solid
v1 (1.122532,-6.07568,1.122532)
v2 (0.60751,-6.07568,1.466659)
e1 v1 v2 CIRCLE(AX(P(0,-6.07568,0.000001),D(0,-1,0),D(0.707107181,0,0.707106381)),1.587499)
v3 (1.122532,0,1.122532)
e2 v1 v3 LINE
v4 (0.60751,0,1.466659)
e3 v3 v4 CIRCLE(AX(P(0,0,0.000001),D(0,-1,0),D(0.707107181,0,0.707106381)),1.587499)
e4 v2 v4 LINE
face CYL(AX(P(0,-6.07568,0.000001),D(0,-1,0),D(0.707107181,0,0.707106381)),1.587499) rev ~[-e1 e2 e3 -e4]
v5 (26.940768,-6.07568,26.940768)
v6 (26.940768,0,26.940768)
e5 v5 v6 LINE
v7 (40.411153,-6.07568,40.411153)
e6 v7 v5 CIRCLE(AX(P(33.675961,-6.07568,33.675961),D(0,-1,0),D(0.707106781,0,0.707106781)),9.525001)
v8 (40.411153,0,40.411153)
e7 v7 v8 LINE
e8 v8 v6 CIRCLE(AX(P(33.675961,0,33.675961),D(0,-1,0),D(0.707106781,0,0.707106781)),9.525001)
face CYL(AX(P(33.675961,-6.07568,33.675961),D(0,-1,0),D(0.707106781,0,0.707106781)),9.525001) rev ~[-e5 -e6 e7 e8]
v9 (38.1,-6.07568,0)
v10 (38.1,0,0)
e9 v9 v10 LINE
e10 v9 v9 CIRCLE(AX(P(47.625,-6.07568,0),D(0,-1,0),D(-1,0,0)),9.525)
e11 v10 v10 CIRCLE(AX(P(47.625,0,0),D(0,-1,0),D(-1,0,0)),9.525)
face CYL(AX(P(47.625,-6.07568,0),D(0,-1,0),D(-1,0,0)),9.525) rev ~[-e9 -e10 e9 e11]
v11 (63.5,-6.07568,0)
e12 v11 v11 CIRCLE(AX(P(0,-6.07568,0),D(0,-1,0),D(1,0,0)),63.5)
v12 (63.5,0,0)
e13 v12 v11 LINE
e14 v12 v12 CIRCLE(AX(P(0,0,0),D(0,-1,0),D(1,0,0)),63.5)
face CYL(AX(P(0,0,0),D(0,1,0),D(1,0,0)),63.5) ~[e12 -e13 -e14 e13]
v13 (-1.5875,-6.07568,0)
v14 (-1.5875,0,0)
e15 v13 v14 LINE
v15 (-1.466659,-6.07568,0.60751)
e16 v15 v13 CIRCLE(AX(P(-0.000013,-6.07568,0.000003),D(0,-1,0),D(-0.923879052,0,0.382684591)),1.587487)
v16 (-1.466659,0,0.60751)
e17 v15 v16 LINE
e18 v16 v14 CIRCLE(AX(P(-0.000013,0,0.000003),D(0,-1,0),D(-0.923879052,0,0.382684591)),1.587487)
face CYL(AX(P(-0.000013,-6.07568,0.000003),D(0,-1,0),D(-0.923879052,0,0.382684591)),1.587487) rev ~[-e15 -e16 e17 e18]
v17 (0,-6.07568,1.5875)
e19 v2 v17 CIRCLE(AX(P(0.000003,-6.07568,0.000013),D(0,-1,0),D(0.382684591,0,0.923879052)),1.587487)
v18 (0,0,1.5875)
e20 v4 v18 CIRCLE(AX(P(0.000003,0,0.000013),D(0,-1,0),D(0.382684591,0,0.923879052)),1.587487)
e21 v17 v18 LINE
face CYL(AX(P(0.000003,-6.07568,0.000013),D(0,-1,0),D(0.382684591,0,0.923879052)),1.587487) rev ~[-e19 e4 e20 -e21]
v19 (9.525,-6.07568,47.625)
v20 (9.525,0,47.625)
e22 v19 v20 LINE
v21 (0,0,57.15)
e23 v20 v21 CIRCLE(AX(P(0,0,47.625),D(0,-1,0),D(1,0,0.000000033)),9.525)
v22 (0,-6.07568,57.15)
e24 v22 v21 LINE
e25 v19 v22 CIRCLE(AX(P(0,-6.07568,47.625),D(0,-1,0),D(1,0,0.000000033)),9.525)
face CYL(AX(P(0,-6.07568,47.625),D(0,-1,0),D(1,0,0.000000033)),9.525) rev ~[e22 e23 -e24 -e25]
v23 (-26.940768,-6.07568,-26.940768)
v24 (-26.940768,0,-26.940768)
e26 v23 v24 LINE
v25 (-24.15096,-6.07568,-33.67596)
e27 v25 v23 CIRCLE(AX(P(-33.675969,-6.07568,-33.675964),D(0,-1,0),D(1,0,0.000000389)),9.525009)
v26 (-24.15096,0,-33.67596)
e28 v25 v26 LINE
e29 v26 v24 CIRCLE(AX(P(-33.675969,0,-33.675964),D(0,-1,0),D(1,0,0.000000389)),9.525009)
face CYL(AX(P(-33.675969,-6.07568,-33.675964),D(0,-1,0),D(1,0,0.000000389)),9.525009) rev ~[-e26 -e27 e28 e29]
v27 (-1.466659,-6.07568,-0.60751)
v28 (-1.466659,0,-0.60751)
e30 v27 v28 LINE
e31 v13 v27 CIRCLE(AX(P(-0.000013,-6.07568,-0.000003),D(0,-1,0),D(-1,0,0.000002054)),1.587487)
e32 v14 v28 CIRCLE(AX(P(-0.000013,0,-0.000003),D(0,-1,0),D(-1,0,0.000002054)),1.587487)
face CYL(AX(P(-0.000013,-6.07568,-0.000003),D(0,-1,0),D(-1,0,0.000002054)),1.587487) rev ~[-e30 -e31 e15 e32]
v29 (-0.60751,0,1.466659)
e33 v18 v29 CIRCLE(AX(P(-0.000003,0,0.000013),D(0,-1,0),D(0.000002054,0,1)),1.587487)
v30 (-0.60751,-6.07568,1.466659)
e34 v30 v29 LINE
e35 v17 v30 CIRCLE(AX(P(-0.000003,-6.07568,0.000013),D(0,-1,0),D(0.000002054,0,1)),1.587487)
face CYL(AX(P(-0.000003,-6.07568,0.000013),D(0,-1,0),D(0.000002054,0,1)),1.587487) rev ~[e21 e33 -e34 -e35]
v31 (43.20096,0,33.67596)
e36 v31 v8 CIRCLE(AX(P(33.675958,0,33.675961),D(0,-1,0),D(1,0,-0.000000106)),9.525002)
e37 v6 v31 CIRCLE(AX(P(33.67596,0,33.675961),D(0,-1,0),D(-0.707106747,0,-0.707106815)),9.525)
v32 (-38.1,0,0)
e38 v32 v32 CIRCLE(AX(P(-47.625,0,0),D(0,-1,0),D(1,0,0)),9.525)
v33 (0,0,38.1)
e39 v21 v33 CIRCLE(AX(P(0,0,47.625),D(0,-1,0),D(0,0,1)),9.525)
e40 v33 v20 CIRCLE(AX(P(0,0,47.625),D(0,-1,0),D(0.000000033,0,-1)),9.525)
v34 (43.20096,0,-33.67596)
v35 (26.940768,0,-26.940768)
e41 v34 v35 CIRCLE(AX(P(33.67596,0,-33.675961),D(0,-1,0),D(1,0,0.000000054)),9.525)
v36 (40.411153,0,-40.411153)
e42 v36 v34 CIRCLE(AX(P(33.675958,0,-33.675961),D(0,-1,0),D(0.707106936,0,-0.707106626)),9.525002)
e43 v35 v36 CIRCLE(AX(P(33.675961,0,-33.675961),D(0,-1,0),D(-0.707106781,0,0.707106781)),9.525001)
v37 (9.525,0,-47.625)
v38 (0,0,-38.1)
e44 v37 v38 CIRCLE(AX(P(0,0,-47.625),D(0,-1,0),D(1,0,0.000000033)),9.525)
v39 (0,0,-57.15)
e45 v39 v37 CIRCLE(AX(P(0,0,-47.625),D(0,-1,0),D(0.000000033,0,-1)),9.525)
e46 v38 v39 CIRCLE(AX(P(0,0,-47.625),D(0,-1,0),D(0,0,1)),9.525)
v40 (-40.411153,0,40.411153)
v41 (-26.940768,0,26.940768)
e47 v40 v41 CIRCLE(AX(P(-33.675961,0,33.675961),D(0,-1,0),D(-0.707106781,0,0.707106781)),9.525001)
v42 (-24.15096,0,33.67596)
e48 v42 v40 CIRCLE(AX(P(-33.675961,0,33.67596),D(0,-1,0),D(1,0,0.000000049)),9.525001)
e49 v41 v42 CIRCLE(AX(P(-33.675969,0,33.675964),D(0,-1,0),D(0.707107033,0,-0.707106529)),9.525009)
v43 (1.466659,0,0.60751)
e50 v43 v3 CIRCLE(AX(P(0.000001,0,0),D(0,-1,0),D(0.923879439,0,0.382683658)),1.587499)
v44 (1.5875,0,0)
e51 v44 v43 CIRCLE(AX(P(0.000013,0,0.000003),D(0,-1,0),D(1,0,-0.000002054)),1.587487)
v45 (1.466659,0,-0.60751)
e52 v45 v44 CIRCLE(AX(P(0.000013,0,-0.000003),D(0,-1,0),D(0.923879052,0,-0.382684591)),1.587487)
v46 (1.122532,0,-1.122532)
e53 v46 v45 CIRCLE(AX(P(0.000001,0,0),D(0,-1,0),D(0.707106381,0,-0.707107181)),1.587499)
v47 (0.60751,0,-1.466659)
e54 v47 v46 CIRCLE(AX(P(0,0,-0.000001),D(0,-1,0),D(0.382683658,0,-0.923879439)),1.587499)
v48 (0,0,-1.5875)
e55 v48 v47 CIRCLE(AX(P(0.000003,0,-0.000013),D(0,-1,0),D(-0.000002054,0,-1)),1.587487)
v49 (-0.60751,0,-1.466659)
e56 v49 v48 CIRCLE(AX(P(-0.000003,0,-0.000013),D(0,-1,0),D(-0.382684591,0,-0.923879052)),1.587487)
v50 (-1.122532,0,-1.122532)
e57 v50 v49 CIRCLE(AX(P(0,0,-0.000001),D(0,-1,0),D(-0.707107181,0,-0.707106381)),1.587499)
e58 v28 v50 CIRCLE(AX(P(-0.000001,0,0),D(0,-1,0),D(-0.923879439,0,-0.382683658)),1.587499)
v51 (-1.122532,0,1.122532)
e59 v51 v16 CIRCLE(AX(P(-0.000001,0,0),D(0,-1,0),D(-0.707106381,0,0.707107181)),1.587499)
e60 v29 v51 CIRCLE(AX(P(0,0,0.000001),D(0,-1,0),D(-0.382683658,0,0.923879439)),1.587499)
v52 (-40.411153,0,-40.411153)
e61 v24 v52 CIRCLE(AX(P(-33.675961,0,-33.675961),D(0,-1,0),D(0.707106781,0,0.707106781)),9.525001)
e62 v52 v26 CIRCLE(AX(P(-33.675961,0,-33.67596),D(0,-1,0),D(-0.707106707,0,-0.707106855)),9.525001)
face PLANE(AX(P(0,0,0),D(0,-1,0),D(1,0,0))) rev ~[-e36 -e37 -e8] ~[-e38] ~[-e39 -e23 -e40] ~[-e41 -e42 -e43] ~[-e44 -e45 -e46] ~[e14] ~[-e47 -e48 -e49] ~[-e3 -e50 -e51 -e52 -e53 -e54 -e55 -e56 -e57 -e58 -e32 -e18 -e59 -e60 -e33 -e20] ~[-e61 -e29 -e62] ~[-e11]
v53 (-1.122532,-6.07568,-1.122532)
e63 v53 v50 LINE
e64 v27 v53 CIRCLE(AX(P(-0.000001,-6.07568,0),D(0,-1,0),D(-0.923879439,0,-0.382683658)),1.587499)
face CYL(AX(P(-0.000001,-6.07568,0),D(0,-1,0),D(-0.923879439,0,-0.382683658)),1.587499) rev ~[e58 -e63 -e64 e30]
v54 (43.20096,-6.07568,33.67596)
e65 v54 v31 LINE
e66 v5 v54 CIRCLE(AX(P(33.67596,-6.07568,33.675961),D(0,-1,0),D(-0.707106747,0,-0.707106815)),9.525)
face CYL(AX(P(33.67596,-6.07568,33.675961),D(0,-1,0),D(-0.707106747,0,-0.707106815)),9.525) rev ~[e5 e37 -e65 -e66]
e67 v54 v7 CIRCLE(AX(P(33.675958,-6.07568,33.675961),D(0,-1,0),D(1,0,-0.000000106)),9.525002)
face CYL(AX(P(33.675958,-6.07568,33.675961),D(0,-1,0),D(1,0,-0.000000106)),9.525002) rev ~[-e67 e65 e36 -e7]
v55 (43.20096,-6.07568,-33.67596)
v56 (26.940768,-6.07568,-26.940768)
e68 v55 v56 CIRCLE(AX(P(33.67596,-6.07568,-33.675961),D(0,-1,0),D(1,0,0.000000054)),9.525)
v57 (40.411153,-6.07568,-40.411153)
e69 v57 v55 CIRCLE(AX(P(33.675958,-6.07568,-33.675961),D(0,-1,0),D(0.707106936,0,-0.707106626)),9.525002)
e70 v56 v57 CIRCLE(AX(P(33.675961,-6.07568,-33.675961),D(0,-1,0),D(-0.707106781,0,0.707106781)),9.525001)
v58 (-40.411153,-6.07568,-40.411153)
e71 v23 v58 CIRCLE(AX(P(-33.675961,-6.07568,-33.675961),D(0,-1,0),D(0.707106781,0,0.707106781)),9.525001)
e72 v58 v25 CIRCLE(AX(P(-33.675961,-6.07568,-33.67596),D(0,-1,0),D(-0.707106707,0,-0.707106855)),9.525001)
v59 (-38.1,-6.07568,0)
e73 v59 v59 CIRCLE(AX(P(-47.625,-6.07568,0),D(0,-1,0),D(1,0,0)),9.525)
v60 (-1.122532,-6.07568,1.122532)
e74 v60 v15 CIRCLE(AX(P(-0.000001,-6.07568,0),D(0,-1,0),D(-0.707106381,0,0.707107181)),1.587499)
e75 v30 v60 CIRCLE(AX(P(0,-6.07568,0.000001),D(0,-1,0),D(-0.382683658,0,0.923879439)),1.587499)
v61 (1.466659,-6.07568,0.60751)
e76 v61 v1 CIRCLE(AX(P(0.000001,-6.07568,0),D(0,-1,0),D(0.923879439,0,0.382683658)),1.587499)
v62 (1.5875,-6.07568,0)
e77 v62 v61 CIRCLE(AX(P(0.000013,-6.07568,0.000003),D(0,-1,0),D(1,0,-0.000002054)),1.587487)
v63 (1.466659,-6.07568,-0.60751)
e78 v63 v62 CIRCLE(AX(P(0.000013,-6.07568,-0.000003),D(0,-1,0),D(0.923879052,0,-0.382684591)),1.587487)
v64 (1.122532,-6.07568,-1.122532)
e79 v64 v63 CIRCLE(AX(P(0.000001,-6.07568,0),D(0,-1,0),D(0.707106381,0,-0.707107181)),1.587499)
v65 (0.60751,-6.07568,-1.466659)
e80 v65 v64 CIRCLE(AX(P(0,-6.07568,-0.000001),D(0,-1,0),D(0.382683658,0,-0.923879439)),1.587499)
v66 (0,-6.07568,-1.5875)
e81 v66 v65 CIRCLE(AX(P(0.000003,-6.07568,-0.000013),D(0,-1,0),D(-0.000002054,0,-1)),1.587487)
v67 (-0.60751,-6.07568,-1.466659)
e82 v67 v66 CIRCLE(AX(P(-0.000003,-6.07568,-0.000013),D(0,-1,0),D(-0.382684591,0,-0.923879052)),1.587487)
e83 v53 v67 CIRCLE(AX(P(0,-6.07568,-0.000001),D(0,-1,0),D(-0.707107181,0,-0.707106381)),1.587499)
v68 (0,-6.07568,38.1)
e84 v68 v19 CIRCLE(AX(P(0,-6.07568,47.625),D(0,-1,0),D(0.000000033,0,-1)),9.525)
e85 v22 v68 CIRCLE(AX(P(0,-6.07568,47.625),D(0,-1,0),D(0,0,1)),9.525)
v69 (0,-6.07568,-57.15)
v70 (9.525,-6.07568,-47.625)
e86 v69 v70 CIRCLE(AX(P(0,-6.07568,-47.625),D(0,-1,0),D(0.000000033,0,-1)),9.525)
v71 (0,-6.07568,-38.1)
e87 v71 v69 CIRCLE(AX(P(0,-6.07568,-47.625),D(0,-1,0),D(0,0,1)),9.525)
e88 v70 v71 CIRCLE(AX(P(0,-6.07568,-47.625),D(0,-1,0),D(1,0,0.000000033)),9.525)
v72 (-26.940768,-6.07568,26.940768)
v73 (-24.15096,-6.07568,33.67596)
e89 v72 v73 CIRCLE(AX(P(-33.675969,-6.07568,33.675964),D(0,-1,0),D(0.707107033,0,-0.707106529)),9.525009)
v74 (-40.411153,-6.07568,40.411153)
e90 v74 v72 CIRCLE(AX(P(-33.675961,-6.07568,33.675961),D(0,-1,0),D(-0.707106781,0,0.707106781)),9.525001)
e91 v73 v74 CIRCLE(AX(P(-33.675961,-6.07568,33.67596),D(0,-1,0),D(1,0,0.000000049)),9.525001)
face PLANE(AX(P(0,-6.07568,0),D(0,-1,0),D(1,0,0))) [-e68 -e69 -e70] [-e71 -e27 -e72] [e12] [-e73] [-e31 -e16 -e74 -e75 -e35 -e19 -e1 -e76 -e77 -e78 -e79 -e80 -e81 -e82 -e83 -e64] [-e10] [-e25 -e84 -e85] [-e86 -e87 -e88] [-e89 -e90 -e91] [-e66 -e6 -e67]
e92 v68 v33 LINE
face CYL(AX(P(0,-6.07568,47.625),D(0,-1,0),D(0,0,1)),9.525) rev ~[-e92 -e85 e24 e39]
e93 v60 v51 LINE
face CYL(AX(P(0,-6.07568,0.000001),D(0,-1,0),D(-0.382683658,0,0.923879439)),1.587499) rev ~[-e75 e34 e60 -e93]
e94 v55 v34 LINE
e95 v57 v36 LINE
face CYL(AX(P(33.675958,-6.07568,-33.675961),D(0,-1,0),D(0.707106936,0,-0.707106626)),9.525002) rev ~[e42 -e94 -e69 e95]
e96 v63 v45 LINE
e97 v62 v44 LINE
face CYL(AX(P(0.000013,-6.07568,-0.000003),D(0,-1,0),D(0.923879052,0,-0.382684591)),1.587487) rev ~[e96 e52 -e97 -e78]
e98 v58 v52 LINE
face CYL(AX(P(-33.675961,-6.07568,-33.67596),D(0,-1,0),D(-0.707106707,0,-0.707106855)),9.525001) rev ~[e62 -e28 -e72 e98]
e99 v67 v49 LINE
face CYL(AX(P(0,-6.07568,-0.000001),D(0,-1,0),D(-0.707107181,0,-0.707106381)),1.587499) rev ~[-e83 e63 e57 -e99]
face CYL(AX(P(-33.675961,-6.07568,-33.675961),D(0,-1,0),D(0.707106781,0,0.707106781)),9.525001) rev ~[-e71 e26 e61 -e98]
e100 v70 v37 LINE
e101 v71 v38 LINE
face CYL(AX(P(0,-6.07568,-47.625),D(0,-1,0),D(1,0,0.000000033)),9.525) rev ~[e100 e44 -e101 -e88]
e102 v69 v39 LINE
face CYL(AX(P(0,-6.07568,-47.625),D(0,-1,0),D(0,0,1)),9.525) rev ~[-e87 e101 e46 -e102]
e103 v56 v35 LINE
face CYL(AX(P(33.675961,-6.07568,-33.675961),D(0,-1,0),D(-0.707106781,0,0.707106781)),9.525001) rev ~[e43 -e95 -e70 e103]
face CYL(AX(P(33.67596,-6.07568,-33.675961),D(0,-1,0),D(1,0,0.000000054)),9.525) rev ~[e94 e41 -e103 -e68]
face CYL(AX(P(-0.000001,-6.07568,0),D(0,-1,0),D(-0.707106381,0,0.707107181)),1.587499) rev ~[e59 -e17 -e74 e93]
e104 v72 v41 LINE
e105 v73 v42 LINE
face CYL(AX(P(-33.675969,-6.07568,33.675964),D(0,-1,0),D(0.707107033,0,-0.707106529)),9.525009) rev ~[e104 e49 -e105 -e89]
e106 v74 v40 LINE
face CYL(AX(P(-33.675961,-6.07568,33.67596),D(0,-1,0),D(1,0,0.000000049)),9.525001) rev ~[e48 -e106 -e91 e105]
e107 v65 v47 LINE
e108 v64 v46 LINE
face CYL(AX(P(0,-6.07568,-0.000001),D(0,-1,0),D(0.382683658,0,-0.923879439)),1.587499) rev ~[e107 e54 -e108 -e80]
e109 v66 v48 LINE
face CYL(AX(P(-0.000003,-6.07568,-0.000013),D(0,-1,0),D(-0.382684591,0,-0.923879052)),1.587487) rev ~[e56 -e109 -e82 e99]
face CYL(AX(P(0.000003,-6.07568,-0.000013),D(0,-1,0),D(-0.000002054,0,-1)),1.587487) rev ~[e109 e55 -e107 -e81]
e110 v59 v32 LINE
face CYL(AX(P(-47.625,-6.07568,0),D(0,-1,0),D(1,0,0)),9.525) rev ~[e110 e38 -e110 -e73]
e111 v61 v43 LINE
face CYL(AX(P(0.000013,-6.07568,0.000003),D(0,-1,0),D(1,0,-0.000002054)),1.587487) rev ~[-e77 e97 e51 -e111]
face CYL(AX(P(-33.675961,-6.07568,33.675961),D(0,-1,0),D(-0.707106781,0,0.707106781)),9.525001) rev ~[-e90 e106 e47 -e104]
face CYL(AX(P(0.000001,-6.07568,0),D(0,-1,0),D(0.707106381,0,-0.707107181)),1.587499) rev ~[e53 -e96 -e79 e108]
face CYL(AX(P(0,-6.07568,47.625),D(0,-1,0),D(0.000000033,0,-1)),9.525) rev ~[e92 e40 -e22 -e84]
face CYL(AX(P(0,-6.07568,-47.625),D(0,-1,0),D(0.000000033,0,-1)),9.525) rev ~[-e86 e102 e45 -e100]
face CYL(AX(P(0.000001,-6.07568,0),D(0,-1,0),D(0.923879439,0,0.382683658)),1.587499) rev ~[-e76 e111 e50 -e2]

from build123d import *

# Parameters (mm, degrees)
F0_R     = 63.5
F1_DEPTH = 6.07568
F3_DEPTH = 25.4
F4_DEPTH = 25.4


with BuildPart() as f1:
    # F0 (on Front) → F1 (new body)
    with BuildSketch(Plane.XZ):
        Circle(F0_R)
    extrude(amount=F1_DEPTH)

    # F2 (on face) → F3 (cut)
    with BuildSketch(Plane.XZ.offset(6.07568)):
        with BuildLine():
            Line((0, 0), (1.5875, 0))
            ThreePointArc((1.5875, 0), (1.556997, 0.309706), (1.466659, 0.60751))
            Line((1.466659, 0.60751), (0, 0))
        make_face()
        with BuildLine():
            ThreePointArc((43.20096, -33.67596), (37.32102, -24.876008), (26.940768, -26.940768))
            Line((26.940768, -26.940768), (40.411153, -40.411153))
            ThreePointArc((40.411153, -40.411153), (42.475913, -37.32102), (43.20096, -33.67596))
        make_face()
        with BuildLine():
            Line((40.411153, -40.411153), (26.940768, -26.940768))
            ThreePointArc((26.940768, -26.940768), (26.940768, -40.411153), (40.411153, -40.411153))
        make_face()
        with BuildLine():
            ThreePointArc((9.525, -47.625), (6.735192, -40.889808), (0, -38.1))
            Line((0, -38.1), (0, -57.15))
            ThreePointArc((0, -57.15), (6.735192, -54.360192), (9.525, -47.625))
        make_face()
        with BuildLine():
            Line((0, -57.15), (0, -38.1))
            ThreePointArc((0, -38.1), (-9.525, -47.625), (0, -57.15))
        make_face()
        with BuildLine():
            ThreePointArc((-24.15096, -33.67596), (-24.876008, -30.030901), (-26.940768, -26.940768))
            Line((-26.940768, -26.940768), (-40.411153, -40.411153))
            ThreePointArc((-40.411153, -40.411153), (-30.030901, -42.475913), (-24.15096, -33.67596))
        make_face()
        with BuildLine():
            Line((-40.411153, -40.411153), (-26.940768, -26.940768))
            ThreePointArc((-26.940768, -26.940768), (-40.411153, -26.940768), (-40.411153, -40.411153))
        make_face()
        with BuildLine():
            ThreePointArc((-57.15, 0), (-47.625, -9.525), (-38.1, 0))
            Line((-38.1, 0), (-57.15, 0))
        make_face()
        with BuildLine():
            Line((-57.15, 0), (-38.1, 0))
            ThreePointArc((-38.1, 0), (-47.625, 9.525), (-57.15, 0))
        make_face()
        with BuildLine():
            ThreePointArc((-40.411153, 40.411153), (-40.411153, 26.940768), (-26.940768, 26.940768))
            Line((-26.940768, 26.940768), (-40.411153, 40.411153))
        make_face()
        with BuildLine():
            Line((-40.411153, 40.411153), (-26.940768, 26.940768))
            ThreePointArc((-26.940768, 26.940768), (-24.876008, 30.030901), (-24.15096, 33.67596))
            ThreePointArc((-24.15096, 33.67596), (-30.030901, 42.475913), (-40.411153, 40.411153))
        make_face()
        with BuildLine():
            ThreePointArc((0, 57.15), (-9.525, 47.625), (0, 38.1))
            Line((0, 38.1), (0, 57.15))
        make_face()
        with BuildLine():
            Line((0, 57.15), (0, 38.1))
            ThreePointArc((0, 38.1), (6.735192, 40.889808), (9.525, 47.625))
            ThreePointArc((9.525, 47.625), (6.735192, 54.360192), (0, 57.15))
        make_face()
        with BuildLine():
            ThreePointArc((40.411153, 40.411153), (26.940768, 40.411153), (26.940768, 26.940768))
            Line((26.940768, 26.940768), (40.411153, 40.411153))
        make_face()
        with BuildLine():
            Line((40.411153, 40.411153), (26.940768, 26.940768))
            ThreePointArc((26.940768, 26.940768), (37.32102, 24.876008), (43.20096, 33.67596))
            ThreePointArc((43.20096, 33.67596), (42.475913, 37.32102), (40.411153, 40.411153))
        make_face()
        with BuildLine():
            ThreePointArc((57.15, 0), (47.625, 9.525), (38.1, 0))
            Line((38.1, 0), (57.15, 0))
        make_face()
        with BuildLine():
            Line((57.15, 0), (38.1, 0))
            ThreePointArc((38.1, 0), (47.625, -9.525), (57.15, 0))
        make_face()
        with BuildLine():
            ThreePointArc((1.466659, -0.60751), (1.556997, -0.309706), (1.5875, 0))
            Line((1.5875, 0), (0, 0))
            Line((0, 0), (1.466659, -0.60751))
        make_face()
        with BuildLine():
            Line((0, 0), (1.466659, 0.60751))
            ThreePointArc((1.466659, 0.60751), (1.319958, 0.881968), (1.122532, 1.122532))
            Line((1.122532, 1.122532), (0, 0))
        make_face()
        with BuildLine():
            ThreePointArc((1.122532, -1.122532), (1.319958, -0.881968), (1.466659, -0.60751))
            Line((1.466659, -0.60751), (0, 0))
            Line((0, 0), (1.122532, -1.122532))
        make_face()
        with BuildLine():
            Line((-1.466659, -0.60751), (0, 0))
            Line((0, 0), (-1.5875, 0))
            ThreePointArc((-1.5875, 0), (-1.556997, -0.309706), (-1.466659, -0.60751))
        make_face()
        with BuildLine():
            Line((-0.60751, 1.466659), (0, 0))
            Line((0, 0), (0, 1.5875))
            ThreePointArc((0, 1.5875), (-0.309706, 1.556997), (-0.60751, 1.466659))
        make_face()
        with BuildLine():
            Line((0.60751, -1.466659), (0, 0))
            Line((0, 0), (0, -1.5875))
            ThreePointArc((0, -1.5875), (0.309706, -1.556997), (0.60751, -1.466659))
        make_face()
        with BuildLine():
            Line((-1.466659, 0.60751), (0, 0))
            Line((0, 0), (-1.122532, 1.122532))
            ThreePointArc((-1.122532, 1.122532), (-1.319958, 0.881968), (-1.466659, 0.60751))
        make_face()
        with BuildLine():
            Line((0.60751, 1.466659), (0, 0))
            Line((0, 0), (1.122532, 1.122532))
            ThreePointArc((1.122532, 1.122532), (0.881968, 1.319958), (0.60751, 1.466659))
        make_face()
        with BuildLine():
            Line((-0.60751, -1.466659), (0, 0))
            Line((0, 0), (-1.122532, -1.122532))
            ThreePointArc((-1.122532, -1.122532), (-0.881968, -1.319958), (-0.60751, -1.466659))
        make_face()
        with BuildLine():
            Line((-1.122532, -1.122532), (0, 0))
            Line((0, 0), (-1.466659, -0.60751))
            ThreePointArc((-1.466659, -0.60751), (-1.319958, -0.881968), (-1.122532, -1.122532))
        make_face()
        with BuildLine():
            Line((0, -1.5875), (0, 0))
            Line((0, 0), (-0.60751, -1.466659))
            ThreePointArc((-0.60751, -1.466659), (-0.309706, -1.556997), (0, -1.5875))
        make_face()
        with BuildLine():
            Line((1.122532, -1.122532), (0, 0))
            Line((0, 0), (0.60751, -1.466659))
            ThreePointArc((0.60751, -1.466659), (0.881968, -1.319958), (1.122532, -1.122532))
        make_face()
        with BuildLine():
            Line((0, 1.5875), (0, 0))
            Line((0, 0), (0.60751, 1.466659))
            ThreePointArc((0.60751, 1.466659), (0.309706, 1.556997), (0, 1.5875))
        make_face()
        with BuildLine():
            Line((-1.122532, 1.122532), (0, 0))
            Line((0, 0), (-0.60751, 1.466659))
            ThreePointArc((-0.60751, 1.466659), (-0.881968, 1.319958), (-1.122532, 1.122532))
        make_face()
        with BuildLine():
            Line((-1.5875, 0), (0, 0))
            Line((0, 0), (-1.466659, 0.60751))
            ThreePointArc((-1.466659, 0.60751), (-1.556997, 0.309706), (-1.5875, 0))
        make_face()
    extrude(amount=-F3_DEPTH, mode=Mode.SUBTRACT)

    # F2 (on face) → F4 (cut)
    with BuildSketch(Plane.XZ.offset(6.07568)):
        with BuildLine():
            Line((0, 0), (1.5875, 0))
            ThreePointArc((1.5875, 0), (1.556997, 0.309706), (1.466659, 0.60751))
            Line((1.466659, 0.60751), (0, 0))
        make_face()
        with BuildLine():
            ThreePointArc((43.20096, -33.67596), (37.32102, -24.876008), (26.940768, -26.940768))
            Line((26.940768, -26.940768), (40.411153, -40.411153))
            ThreePointArc((40.411153, -40.411153), (42.475913, -37.32102), (43.20096, -33.67596))
        make_face()
        with BuildLine():
            Line((40.411153, -40.411153), (26.940768, -26.940768))
            ThreePointArc((26.940768, -26.940768), (26.940768, -40.411153), (40.411153, -40.411153))
        make_face()
        with BuildLine():
            ThreePointArc((9.525, -47.625), (6.735192, -40.889808), (0, -38.1))
            Line((0, -38.1), (0, -57.15))
            ThreePointArc((0, -57.15), (6.735192, -54.360192), (9.525, -47.625))
        make_face()
        with BuildLine():
            Line((0, -57.15), (0, -38.1))
            ThreePointArc((0, -38.1), (-9.525, -47.625), (0, -57.15))
        make_face()
        with BuildLine():
            ThreePointArc((-24.15096, -33.67596), (-24.876008, -30.030901), (-26.940768, -26.940768))
            Line((-26.940768, -26.940768), (-40.411153, -40.411153))
            ThreePointArc((-40.411153, -40.411153), (-30.030901, -42.475913), (-24.15096, -33.67596))
        make_face()
        with BuildLine():
            Line((-40.411153, -40.411153), (-26.940768, -26.940768))
            ThreePointArc((-26.940768, -26.940768), (-40.411153, -26.940768), (-40.411153, -40.411153))
        make_face()
        with BuildLine():
            ThreePointArc((-57.15, 0), (-47.625, -9.525), (-38.1, 0))
            Line((-38.1, 0), (-57.15, 0))
        make_face()
        with BuildLine():
            Line((-57.15, 0), (-38.1, 0))
            ThreePointArc((-38.1, 0), (-47.625, 9.525), (-57.15, 0))
        make_face()
        with BuildLine():
            ThreePointArc((-40.411153, 40.411153), (-40.411153, 26.940768), (-26.940768, 26.940768))
            Line((-26.940768, 26.940768), (-40.411153, 40.411153))
        make_face()
        with BuildLine():
            Line((-40.411153, 40.411153), (-26.940768, 26.940768))
            ThreePointArc((-26.940768, 26.940768), (-24.876008, 30.030901), (-24.15096, 33.67596))
            ThreePointArc((-24.15096, 33.67596), (-30.030901, 42.475913), (-40.411153, 40.411153))
        make_face()
        with BuildLine():
            ThreePointArc((0, 57.15), (-9.525, 47.625), (0, 38.1))
            Line((0, 38.1), (0, 57.15))
        make_face()
        with BuildLine():
            Line((0, 57.15), (0, 38.1))
            ThreePointArc((0, 38.1), (6.735192, 40.889808), (9.525, 47.625))
            ThreePointArc((9.525, 47.625), (6.735192, 54.360192), (0, 57.15))
        make_face()
        with BuildLine():
            ThreePointArc((40.411153, 40.411153), (26.940768, 40.411153), (26.940768, 26.940768))
            Line((26.940768, 26.940768), (40.411153, 40.411153))
        make_face()
        with BuildLine():
            Line((40.411153, 40.411153), (26.940768, 26.940768))
            ThreePointArc((26.940768, 26.940768), (37.32102, 24.876008), (43.20096, 33.67596))
            ThreePointArc((43.20096, 33.67596), (42.475913, 37.32102), (40.411153, 40.411153))
        make_face()
        with BuildLine():
            ThreePointArc((57.15, 0), (47.625, 9.525), (38.1, 0))
            Line((38.1, 0), (57.15, 0))
        make_face()
        with BuildLine():
            Line((57.15, 0), (38.1, 0))
            ThreePointArc((38.1, 0), (47.625, -9.525), (57.15, 0))
        make_face()
        with BuildLine():
            ThreePointArc((1.466659, -0.60751), (1.556997, -0.309706), (1.5875, 0))
            Line((1.5875, 0), (0, 0))
            Line((0, 0), (1.466659, -0.60751))
        make_face()
        with BuildLine():
            Line((0, 0), (1.466659, 0.60751))
            ThreePointArc((1.466659, 0.60751), (1.319958, 0.881968), (1.122532, 1.122532))
            Line((1.122532, 1.122532), (0, 0))
        make_face()
        with BuildLine():
            ThreePointArc((1.122532, -1.122532), (1.319958, -0.881968), (1.466659, -0.60751))
            Line((1.466659, -0.60751), (0, 0))
            Line((0, 0), (1.122532, -1.122532))
        make_face()
        with BuildLine():
            Line((-1.466659, -0.60751), (0, 0))
            Line((0, 0), (-1.5875, 0))
            ThreePointArc((-1.5875, 0), (-1.556997, -0.309706), (-1.466659, -0.60751))
        make_face()
        with BuildLine():
            Line((-0.60751, 1.466659), (0, 0))
            Line((0, 0), (0, 1.5875))
            ThreePointArc((0, 1.5875), (-0.309706, 1.556997), (-0.60751, 1.466659))
        make_face()
        with BuildLine():
            Line((0.60751, -1.466659), (0, 0))
            Line((0, 0), (0, -1.5875))
            ThreePointArc((0, -1.5875), (0.309706, -1.556997), (0.60751, -1.466659))
        make_face()
        with BuildLine():
            Line((-1.466659, 0.60751), (0, 0))
            Line((0, 0), (-1.122532, 1.122532))
            ThreePointArc((-1.122532, 1.122532), (-1.319958, 0.881968), (-1.466659, 0.60751))
        make_face()
        with BuildLine():
            Line((0.60751, 1.466659), (0, 0))
            Line((0, 0), (1.122532, 1.122532))
            ThreePointArc((1.122532, 1.122532), (0.881968, 1.319958), (0.60751, 1.466659))
        make_face()
        with BuildLine():
            Line((-0.60751, -1.466659), (0, 0))
            Line((0, 0), (-1.122532, -1.122532))
            ThreePointArc((-1.122532, -1.122532), (-0.881968, -1.319958), (-0.60751, -1.466659))
        make_face()
        with BuildLine():
            Line((-1.122532, -1.122532), (0, 0))
            Line((0, 0), (-1.466659, -0.60751))
            ThreePointArc((-1.466659, -0.60751), (-1.319958, -0.881968), (-1.122532, -1.122532))
        make_face()
        with BuildLine():
            Line((0, -1.5875), (0, 0))
            Line((0, 0), (-0.60751, -1.466659))
            ThreePointArc((-0.60751, -1.466659), (-0.309706, -1.556997), (0, -1.5875))
        make_face()
        with BuildLine():
            Line((1.122532, -1.122532), (0, 0))
            Line((0, 0), (0.60751, -1.466659))
            ThreePointArc((0.60751, -1.466659), (0.881968, -1.319958), (1.122532, -1.122532))
        make_face()
        with BuildLine():
            Line((0, 1.5875), (0, 0))
            Line((0, 0), (0.60751, 1.466659))
            ThreePointArc((0.60751, 1.466659), (0.309706, 1.556997), (0, 1.5875))
        make_face()
        with BuildLine():
            Line((-1.122532, 1.122532), (0, 0))
            Line((0, 0), (-0.60751, 1.466659))
            ThreePointArc((-0.60751, 1.466659), (-0.881968, 1.319958), (-1.122532, 1.122532))
        make_face()
        with BuildLine():
            Line((-1.5875, 0), (0, 0))
            Line((0, 0), (-1.466659, 0.60751))
            ThreePointArc((-1.466659, 0.60751), (-1.556997, 0.309706), (-1.5875, 0))
        make_face()
    extrude(amount=-F4_DEPTH, mode=Mode.SUBTRACT)


solid = f1.part
